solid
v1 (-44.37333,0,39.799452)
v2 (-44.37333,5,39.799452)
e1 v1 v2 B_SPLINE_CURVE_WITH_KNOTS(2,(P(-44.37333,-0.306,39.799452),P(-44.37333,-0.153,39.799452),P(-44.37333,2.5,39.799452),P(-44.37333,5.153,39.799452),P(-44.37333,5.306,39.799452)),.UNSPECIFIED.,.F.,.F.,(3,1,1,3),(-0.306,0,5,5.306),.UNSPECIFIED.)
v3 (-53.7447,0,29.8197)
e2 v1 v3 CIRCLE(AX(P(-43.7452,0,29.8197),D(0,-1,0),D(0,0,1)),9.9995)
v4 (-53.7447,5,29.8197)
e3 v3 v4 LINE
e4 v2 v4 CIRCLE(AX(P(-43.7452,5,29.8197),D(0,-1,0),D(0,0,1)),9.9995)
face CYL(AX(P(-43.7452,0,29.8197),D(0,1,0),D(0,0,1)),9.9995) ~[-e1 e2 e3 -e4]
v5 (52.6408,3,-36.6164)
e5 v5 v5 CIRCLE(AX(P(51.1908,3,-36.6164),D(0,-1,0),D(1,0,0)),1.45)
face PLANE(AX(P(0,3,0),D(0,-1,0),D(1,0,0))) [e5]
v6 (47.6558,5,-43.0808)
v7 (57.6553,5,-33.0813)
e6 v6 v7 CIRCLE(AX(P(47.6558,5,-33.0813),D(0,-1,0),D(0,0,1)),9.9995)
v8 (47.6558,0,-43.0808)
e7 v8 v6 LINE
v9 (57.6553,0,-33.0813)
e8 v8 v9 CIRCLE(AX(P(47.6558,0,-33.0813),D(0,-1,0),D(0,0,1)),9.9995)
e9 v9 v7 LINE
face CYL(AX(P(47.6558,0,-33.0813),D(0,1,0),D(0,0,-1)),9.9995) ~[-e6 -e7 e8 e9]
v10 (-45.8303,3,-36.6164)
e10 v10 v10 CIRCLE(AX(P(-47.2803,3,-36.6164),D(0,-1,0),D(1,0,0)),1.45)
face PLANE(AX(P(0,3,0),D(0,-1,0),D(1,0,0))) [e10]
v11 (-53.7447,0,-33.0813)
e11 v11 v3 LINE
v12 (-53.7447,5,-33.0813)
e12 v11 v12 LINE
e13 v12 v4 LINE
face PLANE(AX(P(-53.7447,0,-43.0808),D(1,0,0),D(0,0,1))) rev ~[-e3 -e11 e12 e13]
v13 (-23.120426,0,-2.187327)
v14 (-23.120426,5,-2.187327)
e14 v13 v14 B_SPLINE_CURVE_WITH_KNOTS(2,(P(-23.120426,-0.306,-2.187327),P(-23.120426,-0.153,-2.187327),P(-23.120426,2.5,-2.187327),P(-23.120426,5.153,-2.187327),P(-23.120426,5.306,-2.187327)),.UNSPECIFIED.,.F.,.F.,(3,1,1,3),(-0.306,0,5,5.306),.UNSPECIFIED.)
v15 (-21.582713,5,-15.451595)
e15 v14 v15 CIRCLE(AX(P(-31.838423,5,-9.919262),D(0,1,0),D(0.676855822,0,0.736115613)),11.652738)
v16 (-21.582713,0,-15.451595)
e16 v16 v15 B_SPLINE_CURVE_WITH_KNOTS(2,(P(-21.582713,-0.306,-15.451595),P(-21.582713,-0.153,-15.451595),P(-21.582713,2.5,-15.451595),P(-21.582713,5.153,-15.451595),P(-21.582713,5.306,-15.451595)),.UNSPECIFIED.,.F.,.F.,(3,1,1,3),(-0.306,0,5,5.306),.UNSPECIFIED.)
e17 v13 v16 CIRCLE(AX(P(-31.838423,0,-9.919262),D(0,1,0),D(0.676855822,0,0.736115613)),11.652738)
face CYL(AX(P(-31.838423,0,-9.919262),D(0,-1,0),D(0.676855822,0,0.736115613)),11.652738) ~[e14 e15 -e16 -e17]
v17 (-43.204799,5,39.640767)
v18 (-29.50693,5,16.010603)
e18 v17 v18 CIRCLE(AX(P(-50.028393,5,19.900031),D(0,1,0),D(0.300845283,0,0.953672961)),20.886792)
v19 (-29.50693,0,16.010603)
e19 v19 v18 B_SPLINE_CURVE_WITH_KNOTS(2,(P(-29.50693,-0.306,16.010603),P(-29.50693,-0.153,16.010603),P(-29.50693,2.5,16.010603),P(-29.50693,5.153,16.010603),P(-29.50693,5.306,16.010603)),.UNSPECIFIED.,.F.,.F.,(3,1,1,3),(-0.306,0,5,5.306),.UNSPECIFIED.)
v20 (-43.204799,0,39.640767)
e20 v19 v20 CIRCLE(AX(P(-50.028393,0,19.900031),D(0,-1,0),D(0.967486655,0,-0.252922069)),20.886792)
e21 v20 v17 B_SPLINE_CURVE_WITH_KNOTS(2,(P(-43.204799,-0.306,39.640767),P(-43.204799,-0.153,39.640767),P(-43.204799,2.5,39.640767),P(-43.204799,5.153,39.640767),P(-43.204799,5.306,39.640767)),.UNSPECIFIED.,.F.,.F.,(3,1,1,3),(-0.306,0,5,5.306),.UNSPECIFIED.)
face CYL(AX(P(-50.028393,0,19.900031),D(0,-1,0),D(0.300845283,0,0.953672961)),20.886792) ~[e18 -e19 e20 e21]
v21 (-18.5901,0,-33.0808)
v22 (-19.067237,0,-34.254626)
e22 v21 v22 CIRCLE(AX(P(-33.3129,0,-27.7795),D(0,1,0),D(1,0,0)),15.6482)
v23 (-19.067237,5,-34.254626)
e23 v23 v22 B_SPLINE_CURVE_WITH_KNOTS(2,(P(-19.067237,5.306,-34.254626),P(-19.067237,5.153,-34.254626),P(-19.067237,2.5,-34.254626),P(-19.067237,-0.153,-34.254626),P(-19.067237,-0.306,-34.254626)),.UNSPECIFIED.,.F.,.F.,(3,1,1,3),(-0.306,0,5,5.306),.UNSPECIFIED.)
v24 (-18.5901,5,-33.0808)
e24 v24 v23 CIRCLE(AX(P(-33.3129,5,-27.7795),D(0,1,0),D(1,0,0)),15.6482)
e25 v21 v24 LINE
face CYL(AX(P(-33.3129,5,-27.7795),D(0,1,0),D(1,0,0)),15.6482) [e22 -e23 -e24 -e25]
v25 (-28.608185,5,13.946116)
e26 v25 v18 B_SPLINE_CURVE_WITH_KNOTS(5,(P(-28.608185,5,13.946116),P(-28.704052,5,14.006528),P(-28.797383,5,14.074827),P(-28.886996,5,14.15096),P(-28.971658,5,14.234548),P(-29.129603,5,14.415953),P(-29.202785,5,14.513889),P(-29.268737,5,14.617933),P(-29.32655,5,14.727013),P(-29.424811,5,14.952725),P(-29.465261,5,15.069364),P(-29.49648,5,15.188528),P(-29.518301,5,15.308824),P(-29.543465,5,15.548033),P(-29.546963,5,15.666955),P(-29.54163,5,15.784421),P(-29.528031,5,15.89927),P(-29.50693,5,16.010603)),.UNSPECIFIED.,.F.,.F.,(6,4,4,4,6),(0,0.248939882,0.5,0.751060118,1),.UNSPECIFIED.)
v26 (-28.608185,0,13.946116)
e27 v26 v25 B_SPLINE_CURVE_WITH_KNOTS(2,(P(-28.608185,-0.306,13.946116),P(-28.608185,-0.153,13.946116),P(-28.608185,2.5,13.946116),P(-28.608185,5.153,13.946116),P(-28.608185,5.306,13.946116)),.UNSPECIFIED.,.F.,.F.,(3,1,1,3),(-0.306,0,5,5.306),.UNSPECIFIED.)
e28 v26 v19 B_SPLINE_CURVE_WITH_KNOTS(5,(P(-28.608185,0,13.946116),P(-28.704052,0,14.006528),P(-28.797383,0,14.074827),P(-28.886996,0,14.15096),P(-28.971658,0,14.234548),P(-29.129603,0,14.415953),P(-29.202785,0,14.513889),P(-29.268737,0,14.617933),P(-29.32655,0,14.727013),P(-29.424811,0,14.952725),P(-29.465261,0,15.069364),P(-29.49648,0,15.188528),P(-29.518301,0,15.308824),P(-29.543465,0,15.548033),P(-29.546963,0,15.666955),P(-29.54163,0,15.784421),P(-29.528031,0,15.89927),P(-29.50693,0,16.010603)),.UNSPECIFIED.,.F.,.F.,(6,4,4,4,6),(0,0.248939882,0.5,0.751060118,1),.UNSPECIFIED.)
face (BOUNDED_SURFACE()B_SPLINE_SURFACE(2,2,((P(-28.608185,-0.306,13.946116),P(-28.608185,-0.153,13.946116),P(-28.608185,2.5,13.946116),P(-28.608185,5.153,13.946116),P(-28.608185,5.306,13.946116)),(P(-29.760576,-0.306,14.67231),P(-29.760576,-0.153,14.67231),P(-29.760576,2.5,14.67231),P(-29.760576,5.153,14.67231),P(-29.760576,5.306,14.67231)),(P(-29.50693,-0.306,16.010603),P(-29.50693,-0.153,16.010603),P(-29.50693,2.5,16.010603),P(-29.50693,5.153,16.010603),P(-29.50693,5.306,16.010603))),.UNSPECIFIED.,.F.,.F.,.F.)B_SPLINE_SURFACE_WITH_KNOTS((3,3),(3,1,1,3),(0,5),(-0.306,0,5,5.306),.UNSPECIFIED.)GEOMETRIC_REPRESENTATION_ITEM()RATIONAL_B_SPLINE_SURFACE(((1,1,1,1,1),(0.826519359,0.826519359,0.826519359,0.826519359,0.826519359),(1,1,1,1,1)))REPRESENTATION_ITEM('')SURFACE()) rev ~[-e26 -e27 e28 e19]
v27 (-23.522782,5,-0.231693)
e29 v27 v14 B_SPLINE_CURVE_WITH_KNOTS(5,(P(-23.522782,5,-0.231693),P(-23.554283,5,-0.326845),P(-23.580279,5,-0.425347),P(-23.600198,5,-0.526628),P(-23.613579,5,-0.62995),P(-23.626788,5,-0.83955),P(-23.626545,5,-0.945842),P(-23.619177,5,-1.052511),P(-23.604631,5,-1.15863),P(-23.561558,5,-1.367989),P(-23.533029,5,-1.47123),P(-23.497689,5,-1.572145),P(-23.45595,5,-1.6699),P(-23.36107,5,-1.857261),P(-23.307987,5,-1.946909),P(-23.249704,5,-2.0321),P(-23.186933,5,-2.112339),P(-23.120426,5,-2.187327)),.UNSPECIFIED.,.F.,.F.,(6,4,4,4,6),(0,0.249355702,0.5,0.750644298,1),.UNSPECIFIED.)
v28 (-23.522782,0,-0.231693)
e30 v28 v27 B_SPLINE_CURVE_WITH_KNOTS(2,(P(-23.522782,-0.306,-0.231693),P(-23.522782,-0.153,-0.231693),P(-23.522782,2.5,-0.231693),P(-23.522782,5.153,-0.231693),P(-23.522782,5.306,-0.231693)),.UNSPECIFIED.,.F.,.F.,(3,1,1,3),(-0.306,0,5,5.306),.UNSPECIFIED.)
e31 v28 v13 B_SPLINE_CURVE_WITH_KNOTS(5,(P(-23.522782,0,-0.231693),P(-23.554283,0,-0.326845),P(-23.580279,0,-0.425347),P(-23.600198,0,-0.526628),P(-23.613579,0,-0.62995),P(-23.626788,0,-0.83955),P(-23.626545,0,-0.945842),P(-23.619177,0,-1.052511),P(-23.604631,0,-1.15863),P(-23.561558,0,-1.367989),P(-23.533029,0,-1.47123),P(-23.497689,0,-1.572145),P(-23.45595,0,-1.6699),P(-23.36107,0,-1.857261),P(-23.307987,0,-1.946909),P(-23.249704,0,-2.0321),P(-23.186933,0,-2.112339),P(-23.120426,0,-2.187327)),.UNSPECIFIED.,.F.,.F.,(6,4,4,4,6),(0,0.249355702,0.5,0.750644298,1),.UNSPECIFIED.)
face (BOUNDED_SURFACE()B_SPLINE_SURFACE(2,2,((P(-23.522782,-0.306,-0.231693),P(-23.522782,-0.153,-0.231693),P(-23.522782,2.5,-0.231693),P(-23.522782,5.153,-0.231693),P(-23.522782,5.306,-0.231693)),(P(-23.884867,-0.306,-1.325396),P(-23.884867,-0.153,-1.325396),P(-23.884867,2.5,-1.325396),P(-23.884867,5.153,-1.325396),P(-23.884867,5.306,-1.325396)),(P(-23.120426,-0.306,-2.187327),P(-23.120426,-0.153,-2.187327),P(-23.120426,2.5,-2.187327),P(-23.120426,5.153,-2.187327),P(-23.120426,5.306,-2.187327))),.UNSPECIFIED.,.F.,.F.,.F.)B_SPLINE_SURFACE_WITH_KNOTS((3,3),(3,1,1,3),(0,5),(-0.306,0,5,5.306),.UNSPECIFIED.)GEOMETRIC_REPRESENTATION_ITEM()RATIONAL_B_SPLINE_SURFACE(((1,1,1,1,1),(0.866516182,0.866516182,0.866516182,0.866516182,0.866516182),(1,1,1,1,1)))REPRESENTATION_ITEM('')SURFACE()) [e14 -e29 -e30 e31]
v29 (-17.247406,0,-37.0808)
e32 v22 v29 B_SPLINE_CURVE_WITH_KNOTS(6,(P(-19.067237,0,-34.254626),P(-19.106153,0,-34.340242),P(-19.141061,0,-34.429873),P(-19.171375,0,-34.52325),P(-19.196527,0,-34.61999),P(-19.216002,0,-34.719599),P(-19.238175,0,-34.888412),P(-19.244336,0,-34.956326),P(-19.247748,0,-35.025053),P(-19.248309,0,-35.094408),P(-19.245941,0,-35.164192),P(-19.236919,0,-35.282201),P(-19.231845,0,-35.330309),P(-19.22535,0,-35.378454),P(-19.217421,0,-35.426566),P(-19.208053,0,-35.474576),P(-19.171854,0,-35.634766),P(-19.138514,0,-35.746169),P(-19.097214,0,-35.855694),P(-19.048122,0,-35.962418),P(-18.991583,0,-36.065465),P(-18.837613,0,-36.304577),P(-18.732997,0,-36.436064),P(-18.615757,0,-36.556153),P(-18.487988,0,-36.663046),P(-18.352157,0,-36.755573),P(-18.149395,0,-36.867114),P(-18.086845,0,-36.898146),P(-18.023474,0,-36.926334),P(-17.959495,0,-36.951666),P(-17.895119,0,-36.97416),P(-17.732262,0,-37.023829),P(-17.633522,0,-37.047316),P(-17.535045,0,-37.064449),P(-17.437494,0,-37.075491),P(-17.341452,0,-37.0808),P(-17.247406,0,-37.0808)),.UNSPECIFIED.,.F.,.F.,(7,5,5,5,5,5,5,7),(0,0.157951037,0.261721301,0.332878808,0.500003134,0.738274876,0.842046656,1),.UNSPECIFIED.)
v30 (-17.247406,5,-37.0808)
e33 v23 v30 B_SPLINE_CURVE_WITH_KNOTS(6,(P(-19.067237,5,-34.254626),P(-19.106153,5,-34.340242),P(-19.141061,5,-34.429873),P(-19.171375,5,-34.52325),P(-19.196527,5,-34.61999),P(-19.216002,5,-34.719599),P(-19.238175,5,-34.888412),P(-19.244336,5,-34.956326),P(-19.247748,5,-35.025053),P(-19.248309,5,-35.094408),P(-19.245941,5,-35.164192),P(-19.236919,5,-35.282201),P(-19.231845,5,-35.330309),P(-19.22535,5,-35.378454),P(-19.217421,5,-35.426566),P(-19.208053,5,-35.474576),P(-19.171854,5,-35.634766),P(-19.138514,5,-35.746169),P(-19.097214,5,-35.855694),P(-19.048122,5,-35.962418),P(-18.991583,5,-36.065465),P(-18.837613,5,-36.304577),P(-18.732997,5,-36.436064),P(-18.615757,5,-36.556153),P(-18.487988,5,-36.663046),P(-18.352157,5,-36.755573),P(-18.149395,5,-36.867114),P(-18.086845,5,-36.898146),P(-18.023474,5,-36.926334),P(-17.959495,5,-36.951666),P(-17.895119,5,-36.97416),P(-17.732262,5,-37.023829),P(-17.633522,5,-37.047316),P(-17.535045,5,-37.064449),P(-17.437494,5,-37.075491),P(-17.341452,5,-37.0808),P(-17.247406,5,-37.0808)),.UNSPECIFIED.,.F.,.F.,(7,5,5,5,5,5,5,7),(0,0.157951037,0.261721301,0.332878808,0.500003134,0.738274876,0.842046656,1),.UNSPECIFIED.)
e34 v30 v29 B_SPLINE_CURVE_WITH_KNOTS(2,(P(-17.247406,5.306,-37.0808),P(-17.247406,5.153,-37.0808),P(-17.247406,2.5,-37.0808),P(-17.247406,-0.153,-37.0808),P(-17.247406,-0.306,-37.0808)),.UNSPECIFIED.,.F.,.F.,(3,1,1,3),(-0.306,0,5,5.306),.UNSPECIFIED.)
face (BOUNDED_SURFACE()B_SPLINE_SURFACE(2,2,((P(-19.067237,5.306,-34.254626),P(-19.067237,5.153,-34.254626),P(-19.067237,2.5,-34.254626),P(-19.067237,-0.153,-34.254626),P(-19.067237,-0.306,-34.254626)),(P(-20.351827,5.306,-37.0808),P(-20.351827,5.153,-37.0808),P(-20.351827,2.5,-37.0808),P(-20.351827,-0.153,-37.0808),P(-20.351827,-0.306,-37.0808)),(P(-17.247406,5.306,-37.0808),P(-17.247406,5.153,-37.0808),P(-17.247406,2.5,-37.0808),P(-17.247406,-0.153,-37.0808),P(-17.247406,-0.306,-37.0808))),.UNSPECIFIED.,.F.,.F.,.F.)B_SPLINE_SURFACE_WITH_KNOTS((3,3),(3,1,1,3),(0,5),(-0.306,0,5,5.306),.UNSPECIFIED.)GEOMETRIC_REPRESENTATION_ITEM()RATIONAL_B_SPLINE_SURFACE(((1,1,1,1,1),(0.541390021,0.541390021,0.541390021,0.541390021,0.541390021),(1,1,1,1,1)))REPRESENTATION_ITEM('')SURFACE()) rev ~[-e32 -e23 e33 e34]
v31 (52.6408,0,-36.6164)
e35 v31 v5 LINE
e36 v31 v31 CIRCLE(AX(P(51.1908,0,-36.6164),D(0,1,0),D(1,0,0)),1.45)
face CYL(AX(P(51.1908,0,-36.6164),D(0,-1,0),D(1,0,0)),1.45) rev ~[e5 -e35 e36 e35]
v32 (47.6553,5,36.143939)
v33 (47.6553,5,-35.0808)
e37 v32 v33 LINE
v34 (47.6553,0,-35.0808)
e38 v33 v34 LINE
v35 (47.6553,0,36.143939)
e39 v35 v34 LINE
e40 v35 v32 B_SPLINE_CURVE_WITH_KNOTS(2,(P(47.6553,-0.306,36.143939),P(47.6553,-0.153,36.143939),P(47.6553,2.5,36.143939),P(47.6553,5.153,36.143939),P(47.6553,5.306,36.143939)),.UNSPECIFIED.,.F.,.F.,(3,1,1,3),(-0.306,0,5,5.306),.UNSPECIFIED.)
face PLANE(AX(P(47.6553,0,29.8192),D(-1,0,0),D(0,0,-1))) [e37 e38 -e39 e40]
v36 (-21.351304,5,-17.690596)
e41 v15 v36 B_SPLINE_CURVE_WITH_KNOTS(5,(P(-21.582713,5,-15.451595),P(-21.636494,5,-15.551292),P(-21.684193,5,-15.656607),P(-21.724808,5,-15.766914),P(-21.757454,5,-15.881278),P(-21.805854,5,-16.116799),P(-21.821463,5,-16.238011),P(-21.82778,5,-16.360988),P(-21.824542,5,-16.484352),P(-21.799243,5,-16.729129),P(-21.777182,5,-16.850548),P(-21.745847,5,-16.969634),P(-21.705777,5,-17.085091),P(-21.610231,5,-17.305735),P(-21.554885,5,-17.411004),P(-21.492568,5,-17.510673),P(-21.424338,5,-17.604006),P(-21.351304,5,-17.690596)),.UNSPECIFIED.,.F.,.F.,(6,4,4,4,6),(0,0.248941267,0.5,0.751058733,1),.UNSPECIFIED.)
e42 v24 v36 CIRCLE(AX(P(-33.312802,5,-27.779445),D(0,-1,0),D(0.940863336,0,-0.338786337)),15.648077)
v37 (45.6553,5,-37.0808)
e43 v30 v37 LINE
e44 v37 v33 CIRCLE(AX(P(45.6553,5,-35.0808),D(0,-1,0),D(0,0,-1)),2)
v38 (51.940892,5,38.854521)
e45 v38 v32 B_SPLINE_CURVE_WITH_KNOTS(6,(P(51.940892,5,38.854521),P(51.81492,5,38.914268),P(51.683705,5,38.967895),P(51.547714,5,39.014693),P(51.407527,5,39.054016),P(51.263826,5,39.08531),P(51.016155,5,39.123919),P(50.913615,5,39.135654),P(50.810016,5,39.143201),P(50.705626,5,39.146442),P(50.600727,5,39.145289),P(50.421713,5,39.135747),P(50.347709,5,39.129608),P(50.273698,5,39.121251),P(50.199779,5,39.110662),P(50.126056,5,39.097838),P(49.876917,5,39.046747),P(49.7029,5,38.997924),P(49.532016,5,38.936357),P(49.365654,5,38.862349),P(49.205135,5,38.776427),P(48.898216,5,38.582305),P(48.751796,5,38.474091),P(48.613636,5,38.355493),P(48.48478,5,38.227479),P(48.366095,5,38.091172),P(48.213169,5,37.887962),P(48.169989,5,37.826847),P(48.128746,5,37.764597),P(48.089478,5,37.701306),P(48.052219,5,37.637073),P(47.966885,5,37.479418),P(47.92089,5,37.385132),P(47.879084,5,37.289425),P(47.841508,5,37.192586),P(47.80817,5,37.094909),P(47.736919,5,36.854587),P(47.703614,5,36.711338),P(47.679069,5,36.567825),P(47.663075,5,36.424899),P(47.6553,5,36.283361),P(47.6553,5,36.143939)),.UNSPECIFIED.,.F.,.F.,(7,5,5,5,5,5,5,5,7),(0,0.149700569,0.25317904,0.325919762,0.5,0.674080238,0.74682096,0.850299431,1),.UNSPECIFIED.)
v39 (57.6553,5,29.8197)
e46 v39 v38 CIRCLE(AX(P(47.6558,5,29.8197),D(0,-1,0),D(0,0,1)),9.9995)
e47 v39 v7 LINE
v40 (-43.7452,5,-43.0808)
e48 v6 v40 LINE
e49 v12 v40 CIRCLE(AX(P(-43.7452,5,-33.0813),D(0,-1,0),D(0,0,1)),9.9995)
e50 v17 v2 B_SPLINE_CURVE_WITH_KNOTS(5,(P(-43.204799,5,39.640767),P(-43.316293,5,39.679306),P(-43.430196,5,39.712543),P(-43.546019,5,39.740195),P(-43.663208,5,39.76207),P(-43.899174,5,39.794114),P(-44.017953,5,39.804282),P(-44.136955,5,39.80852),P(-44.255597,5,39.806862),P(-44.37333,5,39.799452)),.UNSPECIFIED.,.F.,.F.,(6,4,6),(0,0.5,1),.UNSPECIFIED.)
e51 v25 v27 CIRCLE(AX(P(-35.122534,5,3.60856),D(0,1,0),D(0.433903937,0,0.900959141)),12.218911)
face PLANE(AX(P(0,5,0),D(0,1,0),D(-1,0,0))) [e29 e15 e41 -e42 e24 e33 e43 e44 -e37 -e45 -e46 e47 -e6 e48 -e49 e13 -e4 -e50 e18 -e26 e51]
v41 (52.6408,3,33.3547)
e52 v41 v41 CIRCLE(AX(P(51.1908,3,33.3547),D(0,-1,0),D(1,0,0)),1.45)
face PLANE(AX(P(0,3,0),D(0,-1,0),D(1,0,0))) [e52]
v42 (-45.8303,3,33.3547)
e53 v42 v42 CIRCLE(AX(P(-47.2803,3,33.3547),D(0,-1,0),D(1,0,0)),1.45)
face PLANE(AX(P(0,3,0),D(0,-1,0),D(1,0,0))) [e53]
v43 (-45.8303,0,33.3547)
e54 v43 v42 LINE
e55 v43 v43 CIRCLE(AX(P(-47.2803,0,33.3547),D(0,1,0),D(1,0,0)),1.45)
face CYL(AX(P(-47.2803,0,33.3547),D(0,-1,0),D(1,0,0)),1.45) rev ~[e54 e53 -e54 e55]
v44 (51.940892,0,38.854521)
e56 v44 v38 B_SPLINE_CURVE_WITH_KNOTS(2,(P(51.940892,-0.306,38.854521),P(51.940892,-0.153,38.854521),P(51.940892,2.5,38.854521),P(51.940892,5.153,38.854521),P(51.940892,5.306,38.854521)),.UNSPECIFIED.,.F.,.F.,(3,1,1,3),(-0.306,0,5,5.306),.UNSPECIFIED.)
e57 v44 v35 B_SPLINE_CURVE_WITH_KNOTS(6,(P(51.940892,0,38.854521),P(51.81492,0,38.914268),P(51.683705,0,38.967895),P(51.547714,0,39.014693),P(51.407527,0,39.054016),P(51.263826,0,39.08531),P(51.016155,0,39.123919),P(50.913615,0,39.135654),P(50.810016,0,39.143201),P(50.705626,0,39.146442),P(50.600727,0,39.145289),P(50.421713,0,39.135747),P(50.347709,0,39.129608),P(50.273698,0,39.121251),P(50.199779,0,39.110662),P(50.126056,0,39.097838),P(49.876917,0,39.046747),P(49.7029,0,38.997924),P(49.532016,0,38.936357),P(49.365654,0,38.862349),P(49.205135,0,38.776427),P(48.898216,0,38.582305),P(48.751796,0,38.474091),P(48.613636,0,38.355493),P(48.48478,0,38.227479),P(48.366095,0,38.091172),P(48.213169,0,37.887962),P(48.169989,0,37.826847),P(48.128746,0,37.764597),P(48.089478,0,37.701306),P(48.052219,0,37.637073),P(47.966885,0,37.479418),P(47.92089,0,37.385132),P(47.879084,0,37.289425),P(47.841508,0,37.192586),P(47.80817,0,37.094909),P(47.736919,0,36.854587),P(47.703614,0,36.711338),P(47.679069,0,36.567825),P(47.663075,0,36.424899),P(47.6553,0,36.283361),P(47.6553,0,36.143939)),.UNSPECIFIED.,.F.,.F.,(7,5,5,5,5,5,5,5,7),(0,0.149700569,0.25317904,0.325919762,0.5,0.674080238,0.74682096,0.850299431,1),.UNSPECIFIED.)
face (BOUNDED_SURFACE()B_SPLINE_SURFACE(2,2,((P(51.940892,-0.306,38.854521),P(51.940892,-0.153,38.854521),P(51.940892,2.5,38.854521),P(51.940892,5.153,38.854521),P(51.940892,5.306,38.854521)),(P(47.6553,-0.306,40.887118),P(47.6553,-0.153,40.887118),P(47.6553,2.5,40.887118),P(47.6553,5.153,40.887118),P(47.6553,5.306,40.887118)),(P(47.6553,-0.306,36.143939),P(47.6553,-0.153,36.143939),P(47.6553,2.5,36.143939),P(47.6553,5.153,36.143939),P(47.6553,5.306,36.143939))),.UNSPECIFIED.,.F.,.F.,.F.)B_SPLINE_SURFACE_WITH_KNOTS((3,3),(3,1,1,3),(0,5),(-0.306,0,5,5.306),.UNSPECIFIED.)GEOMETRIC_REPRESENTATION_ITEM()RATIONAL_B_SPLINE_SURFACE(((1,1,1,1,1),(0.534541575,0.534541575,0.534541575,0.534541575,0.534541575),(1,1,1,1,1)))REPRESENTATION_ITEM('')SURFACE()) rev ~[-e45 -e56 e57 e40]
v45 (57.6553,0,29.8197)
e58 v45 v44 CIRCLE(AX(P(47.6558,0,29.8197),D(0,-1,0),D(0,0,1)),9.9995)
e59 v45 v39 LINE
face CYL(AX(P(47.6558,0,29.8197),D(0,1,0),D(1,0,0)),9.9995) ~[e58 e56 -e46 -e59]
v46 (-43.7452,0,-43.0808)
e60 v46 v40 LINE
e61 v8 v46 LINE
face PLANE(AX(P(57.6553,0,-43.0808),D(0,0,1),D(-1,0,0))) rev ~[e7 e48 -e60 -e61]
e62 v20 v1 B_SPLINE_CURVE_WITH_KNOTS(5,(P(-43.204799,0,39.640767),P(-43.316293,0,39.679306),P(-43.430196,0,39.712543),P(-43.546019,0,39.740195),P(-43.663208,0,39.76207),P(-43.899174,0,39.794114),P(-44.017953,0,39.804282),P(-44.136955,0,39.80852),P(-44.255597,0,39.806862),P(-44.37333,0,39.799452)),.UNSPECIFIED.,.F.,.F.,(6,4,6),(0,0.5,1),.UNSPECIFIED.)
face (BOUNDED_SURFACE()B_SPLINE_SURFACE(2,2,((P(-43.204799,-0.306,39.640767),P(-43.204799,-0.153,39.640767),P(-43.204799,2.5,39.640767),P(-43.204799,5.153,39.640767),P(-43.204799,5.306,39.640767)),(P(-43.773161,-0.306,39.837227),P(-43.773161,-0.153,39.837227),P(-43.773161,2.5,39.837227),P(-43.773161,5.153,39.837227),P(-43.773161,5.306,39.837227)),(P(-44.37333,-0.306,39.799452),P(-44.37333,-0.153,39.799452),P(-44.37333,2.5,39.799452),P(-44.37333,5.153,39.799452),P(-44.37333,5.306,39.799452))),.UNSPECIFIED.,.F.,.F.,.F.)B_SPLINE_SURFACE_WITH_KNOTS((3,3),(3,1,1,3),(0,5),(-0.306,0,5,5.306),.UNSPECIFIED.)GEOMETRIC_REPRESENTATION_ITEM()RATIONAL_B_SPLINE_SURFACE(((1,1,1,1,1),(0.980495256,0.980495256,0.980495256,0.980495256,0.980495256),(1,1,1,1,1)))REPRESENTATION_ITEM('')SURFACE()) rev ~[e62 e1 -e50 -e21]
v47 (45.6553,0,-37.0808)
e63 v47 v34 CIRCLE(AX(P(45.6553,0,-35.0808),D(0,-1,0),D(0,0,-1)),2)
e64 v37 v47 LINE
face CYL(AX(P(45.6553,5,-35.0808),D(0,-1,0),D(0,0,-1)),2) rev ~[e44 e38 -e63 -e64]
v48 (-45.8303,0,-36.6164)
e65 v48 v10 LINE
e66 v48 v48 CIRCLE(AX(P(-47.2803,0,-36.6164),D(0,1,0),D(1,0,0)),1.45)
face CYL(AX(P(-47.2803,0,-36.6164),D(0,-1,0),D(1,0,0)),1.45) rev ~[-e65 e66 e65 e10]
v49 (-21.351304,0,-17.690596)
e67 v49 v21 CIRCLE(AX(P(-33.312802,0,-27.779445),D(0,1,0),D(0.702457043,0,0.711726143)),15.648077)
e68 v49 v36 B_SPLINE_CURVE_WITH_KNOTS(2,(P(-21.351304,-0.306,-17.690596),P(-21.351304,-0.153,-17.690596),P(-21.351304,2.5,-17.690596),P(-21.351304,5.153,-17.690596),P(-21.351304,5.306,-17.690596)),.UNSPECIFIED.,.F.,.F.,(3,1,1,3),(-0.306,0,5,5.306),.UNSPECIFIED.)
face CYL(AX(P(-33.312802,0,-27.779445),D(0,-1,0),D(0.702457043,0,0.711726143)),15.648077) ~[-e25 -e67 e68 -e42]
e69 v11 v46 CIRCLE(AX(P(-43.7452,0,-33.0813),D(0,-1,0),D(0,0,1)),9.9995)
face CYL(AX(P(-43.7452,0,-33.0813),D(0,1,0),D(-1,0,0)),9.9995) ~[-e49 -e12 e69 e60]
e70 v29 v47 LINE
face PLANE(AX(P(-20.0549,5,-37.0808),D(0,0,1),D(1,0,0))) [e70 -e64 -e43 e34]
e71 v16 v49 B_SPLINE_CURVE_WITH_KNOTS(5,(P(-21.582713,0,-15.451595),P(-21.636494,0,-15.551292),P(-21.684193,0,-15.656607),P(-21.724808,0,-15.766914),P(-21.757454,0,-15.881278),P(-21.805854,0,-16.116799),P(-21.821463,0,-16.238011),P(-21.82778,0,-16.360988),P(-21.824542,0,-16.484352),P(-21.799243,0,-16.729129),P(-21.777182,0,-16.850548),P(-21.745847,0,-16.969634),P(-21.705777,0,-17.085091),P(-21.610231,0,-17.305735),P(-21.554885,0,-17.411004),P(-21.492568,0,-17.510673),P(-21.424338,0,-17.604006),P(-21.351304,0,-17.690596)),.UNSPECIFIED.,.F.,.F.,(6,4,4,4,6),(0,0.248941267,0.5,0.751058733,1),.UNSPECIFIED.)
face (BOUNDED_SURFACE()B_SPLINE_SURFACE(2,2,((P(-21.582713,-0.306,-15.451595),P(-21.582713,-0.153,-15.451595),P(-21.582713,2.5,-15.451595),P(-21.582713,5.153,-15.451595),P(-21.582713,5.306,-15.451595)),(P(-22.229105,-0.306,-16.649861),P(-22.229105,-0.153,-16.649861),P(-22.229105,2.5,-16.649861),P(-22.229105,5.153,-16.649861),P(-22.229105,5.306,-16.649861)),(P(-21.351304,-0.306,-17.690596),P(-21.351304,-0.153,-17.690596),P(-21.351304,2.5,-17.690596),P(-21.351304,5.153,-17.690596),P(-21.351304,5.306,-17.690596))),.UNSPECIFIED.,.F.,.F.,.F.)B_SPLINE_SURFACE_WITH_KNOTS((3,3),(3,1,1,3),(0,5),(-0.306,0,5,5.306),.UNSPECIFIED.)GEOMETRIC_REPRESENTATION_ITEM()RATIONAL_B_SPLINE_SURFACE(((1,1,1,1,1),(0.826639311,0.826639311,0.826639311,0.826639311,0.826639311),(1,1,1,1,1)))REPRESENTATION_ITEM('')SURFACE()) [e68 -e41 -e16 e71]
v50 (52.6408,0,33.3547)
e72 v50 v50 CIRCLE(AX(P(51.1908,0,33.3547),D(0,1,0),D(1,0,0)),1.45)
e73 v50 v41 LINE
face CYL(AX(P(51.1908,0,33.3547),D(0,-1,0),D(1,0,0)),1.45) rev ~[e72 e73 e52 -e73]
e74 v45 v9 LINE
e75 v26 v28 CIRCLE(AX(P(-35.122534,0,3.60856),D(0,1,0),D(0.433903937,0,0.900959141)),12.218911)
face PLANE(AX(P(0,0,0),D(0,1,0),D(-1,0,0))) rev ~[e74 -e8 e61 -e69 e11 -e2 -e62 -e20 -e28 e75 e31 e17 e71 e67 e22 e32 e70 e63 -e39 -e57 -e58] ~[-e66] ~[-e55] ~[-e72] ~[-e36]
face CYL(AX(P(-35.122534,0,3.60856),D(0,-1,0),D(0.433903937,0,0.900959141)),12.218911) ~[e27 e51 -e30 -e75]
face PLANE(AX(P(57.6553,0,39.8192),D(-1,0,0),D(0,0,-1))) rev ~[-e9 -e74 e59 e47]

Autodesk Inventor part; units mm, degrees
ref_plane "YZ Plane" through (0, 0, 0) normal (1, 0, 0) x (0, 1, 0)
ref_plane "XZ Plane" through (0, 0, 0) normal (0, 1, 0) x (-1, 0, 0)
ref_plane "XY Plane" through (0, 0, 0) normal (0, 0, 1) x (1, 0, 0)
sketch "Sketch1" plane through (0, 0, 0) normal (0, 1, 0) x (-1, 0, 0)
  line L0 (43.7447, 29.8192) -> (-47.6553, 29.8192)
  line L1 (-47.6553, 29.8192) -> (-47.6553, -33.0808)
  line L2 (-47.6553, -33.0808) -> (43.7447, -33.0808)
  line L3 (43.7447, -33.0808) -> (43.7447, 29.8192)
  line L4 (53.7447, 39.8192) -> (-57.6553, 39.8192)
  line L5 (-57.6553, 39.8192) -> (-57.6553, -43.0808)
  line L6 (-57.6553, -43.0808) -> (53.7447, -43.0808)
  line L7 (53.7447, -43.0808) -> (53.7447, 39.8192)
  line L8 (43.7447, 29.8192) -> (43.7447, 39.8192)
  line L9 (-47.6553, 29.8192) -> (-47.6553, 39.8192)
  line L10 (43.7447, -25.8728) -> (15.7447, -25.8728)
  arc A0 (22.3207, -16.6423) -> (18.5901, -33.0808) centre (33.3129, -27.7795) ccw
  arc A1 (23.9512, -1.3415) -> (22.3207, -16.6423) centre (31.8383, -9.9192) ccw
  arc A2 (29.8207, 14.6173) -> (23.9512, -1.3415) centre (35.1226, 3.6085) ccw
  arc A3 (43.7447, 39.8192) -> (29.8207, 14.6173) centre (50.0285, 19.8999) ccw
  point P0 (0, 0)
  point P1 (42.359, 39.8192)
  point P2 (31.6472, 29.8192)
  dimension "d0" = 91.4
  dimension "d1" = 62.9
  dimension "d2" = 10
  dimension "d17" = 28
extrude "Extrusion1" add sketch "Sketch1" along normal blind 5 contours L3 L10 A0 A1 A2 A3 L0 | L8 L4 L7 L6 L5 L9 L1 L2 L3 | L0 A3 L8 | L3 L2 A0 L10
fillet "Fillet1" radius 10 4 edges at (57.6553, 2.5, 39.8192) (-53.7447, 2.5, 39.8192) (57.6553, 2.5, -43.0808) (-53.7447, 2.5, -43.0808)
sketch "Sketch2" plane through (0, 0, 0) normal (0, -1, 0) x (1, 0, 0)
  arc A0 (-53.7447, -33.0808) -> (-43.7447, -43.0808) centre (-43.7447, -33.0808) ccw projected
  line L0 (47.6553, -43.0808) -> (-43.7447, -43.0808) projected
  arc A1 (47.6553, -43.0808) -> (57.6553, -33.0808) centre (47.6553, -33.0808) ccw projected
  line L1 (57.6553, 29.8192) -> (57.6553, -33.0808) projected
  arc A2 (57.6553, 29.8192) -> (47.6553, 39.8192) centre (47.6553, 29.8192) ccw projected
  arc A3 (-43.7447, 39.8192) -> (-53.7447, 29.8192) centre (-43.7447, 29.8192) ccw projected
  line L2 (-53.7447, -33.0808) -> (-53.7447, 29.8192) projected
  line L3 (47.6553, -33.0808) -> (47.6553, 39.8192) projected
  line L4 (54.7263, 36.8902) -> (51.1908, 33.3547)
  line L5 (54.7263, -40.1519) -> (51.1908, -36.6164)
  line L6 (-50.8158, 36.8902) -> (-47.2803, 33.3547)
  line L7 (-50.8158, -40.1519) -> (-47.2803, -36.6164)
  circle A4 centre (-47.2803, -36.6164) radius 1.45
  circle A5 centre (-47.2803, 33.3547) radius 1.45
  circle A6 centre (51.1908, 33.3547) radius 1.45
  circle A7 centre (51.1908, -36.6164) radius 1.45
  arc A8 (-29.8207, 14.6173) -> (-43.7447, 39.8192) centre (-50.0285, 19.8999) ccw projected
  line L8 (-18.5901, -33.0808) -> (47.6553, -33.0808) projected
  arc A9 (-18.5901, -33.0808) -> (-22.3207, -16.6423) centre (-33.3129, -27.7795) ccw projected
  arc A10 (-22.3207, -16.6423) -> (-23.9512, -1.3415) centre (-31.8383, -9.9192) ccw projected
  arc A11 (-23.9512, -1.3415) -> (-29.8207, 14.6173) centre (-35.1226, 3.6085) ccw projected
  point P0 (0, 0)
  dimension "d6" = 5
  dimension "d7" = 5
  dimension "d8" = 5
  dimension "d9" = 5
  dimension "d10" = 2.9
  dimension "d11" = 2.9
  dimension "d12" = 2.9
  dimension "d13" = 2.9
extrude "Extrusion2" cut sketch "Sketch2" against normal blind 3 contours A4 | A7 | A6 | A5
fillet "Fillet2" radius 3 4 edges at (-43.7447, 2.5, 39.8192) (-43.7452, 2.5, 39.8192) (47.6558, 2.5, 39.8192) (47.6553, 2.5, 39.8192)
sketch "Sketch3" plane through (0, 5, 0) normal (0, 1, 0) x (1, 0, 0)
  arc A0 (-22.3207, 16.6423) -> (-18.5901, 33.0808) centre (-33.3129, 27.7795) ccw projected
  circle A1 centre (-33.3129, 27.7795) radius 15.6482
  line L0 (-18.5901, 33.0808) -> (47.6553, 33.0808) projected
  line L1 (47.6553, 33.0808) -> (-20.0549, 33.0808)
  line L2 (-20.0549, 33.0808) -> (-20.0549, 37.0808)
  line L3 (-20.0549, 37.0808) -> (47.6553, 37.0808)
  line L4 (47.6553, 37.0808) -> (47.6553, 33.0808)
  point P0 (0, 0)
  point P1 (-20.0549, 36.0916)
  dimension "d18" = 4
extrude "Extrusion3" cut sketch "Sketch3" against normal blind 10 contours L2 L3 L4 L0 A1
fillet "Fillet3" radius 2 6 edges at (-20.0549, 2.5, -37.0808) (-20.0549, 2.5, -36.0916) (47.6553, 2.5, -37.0808) (-29.8207, 2.5, 14.6173) (-23.9512, 2.5, -1.3415) (-22.3207, 2.5, -16.6423)
properties part number "Top"
